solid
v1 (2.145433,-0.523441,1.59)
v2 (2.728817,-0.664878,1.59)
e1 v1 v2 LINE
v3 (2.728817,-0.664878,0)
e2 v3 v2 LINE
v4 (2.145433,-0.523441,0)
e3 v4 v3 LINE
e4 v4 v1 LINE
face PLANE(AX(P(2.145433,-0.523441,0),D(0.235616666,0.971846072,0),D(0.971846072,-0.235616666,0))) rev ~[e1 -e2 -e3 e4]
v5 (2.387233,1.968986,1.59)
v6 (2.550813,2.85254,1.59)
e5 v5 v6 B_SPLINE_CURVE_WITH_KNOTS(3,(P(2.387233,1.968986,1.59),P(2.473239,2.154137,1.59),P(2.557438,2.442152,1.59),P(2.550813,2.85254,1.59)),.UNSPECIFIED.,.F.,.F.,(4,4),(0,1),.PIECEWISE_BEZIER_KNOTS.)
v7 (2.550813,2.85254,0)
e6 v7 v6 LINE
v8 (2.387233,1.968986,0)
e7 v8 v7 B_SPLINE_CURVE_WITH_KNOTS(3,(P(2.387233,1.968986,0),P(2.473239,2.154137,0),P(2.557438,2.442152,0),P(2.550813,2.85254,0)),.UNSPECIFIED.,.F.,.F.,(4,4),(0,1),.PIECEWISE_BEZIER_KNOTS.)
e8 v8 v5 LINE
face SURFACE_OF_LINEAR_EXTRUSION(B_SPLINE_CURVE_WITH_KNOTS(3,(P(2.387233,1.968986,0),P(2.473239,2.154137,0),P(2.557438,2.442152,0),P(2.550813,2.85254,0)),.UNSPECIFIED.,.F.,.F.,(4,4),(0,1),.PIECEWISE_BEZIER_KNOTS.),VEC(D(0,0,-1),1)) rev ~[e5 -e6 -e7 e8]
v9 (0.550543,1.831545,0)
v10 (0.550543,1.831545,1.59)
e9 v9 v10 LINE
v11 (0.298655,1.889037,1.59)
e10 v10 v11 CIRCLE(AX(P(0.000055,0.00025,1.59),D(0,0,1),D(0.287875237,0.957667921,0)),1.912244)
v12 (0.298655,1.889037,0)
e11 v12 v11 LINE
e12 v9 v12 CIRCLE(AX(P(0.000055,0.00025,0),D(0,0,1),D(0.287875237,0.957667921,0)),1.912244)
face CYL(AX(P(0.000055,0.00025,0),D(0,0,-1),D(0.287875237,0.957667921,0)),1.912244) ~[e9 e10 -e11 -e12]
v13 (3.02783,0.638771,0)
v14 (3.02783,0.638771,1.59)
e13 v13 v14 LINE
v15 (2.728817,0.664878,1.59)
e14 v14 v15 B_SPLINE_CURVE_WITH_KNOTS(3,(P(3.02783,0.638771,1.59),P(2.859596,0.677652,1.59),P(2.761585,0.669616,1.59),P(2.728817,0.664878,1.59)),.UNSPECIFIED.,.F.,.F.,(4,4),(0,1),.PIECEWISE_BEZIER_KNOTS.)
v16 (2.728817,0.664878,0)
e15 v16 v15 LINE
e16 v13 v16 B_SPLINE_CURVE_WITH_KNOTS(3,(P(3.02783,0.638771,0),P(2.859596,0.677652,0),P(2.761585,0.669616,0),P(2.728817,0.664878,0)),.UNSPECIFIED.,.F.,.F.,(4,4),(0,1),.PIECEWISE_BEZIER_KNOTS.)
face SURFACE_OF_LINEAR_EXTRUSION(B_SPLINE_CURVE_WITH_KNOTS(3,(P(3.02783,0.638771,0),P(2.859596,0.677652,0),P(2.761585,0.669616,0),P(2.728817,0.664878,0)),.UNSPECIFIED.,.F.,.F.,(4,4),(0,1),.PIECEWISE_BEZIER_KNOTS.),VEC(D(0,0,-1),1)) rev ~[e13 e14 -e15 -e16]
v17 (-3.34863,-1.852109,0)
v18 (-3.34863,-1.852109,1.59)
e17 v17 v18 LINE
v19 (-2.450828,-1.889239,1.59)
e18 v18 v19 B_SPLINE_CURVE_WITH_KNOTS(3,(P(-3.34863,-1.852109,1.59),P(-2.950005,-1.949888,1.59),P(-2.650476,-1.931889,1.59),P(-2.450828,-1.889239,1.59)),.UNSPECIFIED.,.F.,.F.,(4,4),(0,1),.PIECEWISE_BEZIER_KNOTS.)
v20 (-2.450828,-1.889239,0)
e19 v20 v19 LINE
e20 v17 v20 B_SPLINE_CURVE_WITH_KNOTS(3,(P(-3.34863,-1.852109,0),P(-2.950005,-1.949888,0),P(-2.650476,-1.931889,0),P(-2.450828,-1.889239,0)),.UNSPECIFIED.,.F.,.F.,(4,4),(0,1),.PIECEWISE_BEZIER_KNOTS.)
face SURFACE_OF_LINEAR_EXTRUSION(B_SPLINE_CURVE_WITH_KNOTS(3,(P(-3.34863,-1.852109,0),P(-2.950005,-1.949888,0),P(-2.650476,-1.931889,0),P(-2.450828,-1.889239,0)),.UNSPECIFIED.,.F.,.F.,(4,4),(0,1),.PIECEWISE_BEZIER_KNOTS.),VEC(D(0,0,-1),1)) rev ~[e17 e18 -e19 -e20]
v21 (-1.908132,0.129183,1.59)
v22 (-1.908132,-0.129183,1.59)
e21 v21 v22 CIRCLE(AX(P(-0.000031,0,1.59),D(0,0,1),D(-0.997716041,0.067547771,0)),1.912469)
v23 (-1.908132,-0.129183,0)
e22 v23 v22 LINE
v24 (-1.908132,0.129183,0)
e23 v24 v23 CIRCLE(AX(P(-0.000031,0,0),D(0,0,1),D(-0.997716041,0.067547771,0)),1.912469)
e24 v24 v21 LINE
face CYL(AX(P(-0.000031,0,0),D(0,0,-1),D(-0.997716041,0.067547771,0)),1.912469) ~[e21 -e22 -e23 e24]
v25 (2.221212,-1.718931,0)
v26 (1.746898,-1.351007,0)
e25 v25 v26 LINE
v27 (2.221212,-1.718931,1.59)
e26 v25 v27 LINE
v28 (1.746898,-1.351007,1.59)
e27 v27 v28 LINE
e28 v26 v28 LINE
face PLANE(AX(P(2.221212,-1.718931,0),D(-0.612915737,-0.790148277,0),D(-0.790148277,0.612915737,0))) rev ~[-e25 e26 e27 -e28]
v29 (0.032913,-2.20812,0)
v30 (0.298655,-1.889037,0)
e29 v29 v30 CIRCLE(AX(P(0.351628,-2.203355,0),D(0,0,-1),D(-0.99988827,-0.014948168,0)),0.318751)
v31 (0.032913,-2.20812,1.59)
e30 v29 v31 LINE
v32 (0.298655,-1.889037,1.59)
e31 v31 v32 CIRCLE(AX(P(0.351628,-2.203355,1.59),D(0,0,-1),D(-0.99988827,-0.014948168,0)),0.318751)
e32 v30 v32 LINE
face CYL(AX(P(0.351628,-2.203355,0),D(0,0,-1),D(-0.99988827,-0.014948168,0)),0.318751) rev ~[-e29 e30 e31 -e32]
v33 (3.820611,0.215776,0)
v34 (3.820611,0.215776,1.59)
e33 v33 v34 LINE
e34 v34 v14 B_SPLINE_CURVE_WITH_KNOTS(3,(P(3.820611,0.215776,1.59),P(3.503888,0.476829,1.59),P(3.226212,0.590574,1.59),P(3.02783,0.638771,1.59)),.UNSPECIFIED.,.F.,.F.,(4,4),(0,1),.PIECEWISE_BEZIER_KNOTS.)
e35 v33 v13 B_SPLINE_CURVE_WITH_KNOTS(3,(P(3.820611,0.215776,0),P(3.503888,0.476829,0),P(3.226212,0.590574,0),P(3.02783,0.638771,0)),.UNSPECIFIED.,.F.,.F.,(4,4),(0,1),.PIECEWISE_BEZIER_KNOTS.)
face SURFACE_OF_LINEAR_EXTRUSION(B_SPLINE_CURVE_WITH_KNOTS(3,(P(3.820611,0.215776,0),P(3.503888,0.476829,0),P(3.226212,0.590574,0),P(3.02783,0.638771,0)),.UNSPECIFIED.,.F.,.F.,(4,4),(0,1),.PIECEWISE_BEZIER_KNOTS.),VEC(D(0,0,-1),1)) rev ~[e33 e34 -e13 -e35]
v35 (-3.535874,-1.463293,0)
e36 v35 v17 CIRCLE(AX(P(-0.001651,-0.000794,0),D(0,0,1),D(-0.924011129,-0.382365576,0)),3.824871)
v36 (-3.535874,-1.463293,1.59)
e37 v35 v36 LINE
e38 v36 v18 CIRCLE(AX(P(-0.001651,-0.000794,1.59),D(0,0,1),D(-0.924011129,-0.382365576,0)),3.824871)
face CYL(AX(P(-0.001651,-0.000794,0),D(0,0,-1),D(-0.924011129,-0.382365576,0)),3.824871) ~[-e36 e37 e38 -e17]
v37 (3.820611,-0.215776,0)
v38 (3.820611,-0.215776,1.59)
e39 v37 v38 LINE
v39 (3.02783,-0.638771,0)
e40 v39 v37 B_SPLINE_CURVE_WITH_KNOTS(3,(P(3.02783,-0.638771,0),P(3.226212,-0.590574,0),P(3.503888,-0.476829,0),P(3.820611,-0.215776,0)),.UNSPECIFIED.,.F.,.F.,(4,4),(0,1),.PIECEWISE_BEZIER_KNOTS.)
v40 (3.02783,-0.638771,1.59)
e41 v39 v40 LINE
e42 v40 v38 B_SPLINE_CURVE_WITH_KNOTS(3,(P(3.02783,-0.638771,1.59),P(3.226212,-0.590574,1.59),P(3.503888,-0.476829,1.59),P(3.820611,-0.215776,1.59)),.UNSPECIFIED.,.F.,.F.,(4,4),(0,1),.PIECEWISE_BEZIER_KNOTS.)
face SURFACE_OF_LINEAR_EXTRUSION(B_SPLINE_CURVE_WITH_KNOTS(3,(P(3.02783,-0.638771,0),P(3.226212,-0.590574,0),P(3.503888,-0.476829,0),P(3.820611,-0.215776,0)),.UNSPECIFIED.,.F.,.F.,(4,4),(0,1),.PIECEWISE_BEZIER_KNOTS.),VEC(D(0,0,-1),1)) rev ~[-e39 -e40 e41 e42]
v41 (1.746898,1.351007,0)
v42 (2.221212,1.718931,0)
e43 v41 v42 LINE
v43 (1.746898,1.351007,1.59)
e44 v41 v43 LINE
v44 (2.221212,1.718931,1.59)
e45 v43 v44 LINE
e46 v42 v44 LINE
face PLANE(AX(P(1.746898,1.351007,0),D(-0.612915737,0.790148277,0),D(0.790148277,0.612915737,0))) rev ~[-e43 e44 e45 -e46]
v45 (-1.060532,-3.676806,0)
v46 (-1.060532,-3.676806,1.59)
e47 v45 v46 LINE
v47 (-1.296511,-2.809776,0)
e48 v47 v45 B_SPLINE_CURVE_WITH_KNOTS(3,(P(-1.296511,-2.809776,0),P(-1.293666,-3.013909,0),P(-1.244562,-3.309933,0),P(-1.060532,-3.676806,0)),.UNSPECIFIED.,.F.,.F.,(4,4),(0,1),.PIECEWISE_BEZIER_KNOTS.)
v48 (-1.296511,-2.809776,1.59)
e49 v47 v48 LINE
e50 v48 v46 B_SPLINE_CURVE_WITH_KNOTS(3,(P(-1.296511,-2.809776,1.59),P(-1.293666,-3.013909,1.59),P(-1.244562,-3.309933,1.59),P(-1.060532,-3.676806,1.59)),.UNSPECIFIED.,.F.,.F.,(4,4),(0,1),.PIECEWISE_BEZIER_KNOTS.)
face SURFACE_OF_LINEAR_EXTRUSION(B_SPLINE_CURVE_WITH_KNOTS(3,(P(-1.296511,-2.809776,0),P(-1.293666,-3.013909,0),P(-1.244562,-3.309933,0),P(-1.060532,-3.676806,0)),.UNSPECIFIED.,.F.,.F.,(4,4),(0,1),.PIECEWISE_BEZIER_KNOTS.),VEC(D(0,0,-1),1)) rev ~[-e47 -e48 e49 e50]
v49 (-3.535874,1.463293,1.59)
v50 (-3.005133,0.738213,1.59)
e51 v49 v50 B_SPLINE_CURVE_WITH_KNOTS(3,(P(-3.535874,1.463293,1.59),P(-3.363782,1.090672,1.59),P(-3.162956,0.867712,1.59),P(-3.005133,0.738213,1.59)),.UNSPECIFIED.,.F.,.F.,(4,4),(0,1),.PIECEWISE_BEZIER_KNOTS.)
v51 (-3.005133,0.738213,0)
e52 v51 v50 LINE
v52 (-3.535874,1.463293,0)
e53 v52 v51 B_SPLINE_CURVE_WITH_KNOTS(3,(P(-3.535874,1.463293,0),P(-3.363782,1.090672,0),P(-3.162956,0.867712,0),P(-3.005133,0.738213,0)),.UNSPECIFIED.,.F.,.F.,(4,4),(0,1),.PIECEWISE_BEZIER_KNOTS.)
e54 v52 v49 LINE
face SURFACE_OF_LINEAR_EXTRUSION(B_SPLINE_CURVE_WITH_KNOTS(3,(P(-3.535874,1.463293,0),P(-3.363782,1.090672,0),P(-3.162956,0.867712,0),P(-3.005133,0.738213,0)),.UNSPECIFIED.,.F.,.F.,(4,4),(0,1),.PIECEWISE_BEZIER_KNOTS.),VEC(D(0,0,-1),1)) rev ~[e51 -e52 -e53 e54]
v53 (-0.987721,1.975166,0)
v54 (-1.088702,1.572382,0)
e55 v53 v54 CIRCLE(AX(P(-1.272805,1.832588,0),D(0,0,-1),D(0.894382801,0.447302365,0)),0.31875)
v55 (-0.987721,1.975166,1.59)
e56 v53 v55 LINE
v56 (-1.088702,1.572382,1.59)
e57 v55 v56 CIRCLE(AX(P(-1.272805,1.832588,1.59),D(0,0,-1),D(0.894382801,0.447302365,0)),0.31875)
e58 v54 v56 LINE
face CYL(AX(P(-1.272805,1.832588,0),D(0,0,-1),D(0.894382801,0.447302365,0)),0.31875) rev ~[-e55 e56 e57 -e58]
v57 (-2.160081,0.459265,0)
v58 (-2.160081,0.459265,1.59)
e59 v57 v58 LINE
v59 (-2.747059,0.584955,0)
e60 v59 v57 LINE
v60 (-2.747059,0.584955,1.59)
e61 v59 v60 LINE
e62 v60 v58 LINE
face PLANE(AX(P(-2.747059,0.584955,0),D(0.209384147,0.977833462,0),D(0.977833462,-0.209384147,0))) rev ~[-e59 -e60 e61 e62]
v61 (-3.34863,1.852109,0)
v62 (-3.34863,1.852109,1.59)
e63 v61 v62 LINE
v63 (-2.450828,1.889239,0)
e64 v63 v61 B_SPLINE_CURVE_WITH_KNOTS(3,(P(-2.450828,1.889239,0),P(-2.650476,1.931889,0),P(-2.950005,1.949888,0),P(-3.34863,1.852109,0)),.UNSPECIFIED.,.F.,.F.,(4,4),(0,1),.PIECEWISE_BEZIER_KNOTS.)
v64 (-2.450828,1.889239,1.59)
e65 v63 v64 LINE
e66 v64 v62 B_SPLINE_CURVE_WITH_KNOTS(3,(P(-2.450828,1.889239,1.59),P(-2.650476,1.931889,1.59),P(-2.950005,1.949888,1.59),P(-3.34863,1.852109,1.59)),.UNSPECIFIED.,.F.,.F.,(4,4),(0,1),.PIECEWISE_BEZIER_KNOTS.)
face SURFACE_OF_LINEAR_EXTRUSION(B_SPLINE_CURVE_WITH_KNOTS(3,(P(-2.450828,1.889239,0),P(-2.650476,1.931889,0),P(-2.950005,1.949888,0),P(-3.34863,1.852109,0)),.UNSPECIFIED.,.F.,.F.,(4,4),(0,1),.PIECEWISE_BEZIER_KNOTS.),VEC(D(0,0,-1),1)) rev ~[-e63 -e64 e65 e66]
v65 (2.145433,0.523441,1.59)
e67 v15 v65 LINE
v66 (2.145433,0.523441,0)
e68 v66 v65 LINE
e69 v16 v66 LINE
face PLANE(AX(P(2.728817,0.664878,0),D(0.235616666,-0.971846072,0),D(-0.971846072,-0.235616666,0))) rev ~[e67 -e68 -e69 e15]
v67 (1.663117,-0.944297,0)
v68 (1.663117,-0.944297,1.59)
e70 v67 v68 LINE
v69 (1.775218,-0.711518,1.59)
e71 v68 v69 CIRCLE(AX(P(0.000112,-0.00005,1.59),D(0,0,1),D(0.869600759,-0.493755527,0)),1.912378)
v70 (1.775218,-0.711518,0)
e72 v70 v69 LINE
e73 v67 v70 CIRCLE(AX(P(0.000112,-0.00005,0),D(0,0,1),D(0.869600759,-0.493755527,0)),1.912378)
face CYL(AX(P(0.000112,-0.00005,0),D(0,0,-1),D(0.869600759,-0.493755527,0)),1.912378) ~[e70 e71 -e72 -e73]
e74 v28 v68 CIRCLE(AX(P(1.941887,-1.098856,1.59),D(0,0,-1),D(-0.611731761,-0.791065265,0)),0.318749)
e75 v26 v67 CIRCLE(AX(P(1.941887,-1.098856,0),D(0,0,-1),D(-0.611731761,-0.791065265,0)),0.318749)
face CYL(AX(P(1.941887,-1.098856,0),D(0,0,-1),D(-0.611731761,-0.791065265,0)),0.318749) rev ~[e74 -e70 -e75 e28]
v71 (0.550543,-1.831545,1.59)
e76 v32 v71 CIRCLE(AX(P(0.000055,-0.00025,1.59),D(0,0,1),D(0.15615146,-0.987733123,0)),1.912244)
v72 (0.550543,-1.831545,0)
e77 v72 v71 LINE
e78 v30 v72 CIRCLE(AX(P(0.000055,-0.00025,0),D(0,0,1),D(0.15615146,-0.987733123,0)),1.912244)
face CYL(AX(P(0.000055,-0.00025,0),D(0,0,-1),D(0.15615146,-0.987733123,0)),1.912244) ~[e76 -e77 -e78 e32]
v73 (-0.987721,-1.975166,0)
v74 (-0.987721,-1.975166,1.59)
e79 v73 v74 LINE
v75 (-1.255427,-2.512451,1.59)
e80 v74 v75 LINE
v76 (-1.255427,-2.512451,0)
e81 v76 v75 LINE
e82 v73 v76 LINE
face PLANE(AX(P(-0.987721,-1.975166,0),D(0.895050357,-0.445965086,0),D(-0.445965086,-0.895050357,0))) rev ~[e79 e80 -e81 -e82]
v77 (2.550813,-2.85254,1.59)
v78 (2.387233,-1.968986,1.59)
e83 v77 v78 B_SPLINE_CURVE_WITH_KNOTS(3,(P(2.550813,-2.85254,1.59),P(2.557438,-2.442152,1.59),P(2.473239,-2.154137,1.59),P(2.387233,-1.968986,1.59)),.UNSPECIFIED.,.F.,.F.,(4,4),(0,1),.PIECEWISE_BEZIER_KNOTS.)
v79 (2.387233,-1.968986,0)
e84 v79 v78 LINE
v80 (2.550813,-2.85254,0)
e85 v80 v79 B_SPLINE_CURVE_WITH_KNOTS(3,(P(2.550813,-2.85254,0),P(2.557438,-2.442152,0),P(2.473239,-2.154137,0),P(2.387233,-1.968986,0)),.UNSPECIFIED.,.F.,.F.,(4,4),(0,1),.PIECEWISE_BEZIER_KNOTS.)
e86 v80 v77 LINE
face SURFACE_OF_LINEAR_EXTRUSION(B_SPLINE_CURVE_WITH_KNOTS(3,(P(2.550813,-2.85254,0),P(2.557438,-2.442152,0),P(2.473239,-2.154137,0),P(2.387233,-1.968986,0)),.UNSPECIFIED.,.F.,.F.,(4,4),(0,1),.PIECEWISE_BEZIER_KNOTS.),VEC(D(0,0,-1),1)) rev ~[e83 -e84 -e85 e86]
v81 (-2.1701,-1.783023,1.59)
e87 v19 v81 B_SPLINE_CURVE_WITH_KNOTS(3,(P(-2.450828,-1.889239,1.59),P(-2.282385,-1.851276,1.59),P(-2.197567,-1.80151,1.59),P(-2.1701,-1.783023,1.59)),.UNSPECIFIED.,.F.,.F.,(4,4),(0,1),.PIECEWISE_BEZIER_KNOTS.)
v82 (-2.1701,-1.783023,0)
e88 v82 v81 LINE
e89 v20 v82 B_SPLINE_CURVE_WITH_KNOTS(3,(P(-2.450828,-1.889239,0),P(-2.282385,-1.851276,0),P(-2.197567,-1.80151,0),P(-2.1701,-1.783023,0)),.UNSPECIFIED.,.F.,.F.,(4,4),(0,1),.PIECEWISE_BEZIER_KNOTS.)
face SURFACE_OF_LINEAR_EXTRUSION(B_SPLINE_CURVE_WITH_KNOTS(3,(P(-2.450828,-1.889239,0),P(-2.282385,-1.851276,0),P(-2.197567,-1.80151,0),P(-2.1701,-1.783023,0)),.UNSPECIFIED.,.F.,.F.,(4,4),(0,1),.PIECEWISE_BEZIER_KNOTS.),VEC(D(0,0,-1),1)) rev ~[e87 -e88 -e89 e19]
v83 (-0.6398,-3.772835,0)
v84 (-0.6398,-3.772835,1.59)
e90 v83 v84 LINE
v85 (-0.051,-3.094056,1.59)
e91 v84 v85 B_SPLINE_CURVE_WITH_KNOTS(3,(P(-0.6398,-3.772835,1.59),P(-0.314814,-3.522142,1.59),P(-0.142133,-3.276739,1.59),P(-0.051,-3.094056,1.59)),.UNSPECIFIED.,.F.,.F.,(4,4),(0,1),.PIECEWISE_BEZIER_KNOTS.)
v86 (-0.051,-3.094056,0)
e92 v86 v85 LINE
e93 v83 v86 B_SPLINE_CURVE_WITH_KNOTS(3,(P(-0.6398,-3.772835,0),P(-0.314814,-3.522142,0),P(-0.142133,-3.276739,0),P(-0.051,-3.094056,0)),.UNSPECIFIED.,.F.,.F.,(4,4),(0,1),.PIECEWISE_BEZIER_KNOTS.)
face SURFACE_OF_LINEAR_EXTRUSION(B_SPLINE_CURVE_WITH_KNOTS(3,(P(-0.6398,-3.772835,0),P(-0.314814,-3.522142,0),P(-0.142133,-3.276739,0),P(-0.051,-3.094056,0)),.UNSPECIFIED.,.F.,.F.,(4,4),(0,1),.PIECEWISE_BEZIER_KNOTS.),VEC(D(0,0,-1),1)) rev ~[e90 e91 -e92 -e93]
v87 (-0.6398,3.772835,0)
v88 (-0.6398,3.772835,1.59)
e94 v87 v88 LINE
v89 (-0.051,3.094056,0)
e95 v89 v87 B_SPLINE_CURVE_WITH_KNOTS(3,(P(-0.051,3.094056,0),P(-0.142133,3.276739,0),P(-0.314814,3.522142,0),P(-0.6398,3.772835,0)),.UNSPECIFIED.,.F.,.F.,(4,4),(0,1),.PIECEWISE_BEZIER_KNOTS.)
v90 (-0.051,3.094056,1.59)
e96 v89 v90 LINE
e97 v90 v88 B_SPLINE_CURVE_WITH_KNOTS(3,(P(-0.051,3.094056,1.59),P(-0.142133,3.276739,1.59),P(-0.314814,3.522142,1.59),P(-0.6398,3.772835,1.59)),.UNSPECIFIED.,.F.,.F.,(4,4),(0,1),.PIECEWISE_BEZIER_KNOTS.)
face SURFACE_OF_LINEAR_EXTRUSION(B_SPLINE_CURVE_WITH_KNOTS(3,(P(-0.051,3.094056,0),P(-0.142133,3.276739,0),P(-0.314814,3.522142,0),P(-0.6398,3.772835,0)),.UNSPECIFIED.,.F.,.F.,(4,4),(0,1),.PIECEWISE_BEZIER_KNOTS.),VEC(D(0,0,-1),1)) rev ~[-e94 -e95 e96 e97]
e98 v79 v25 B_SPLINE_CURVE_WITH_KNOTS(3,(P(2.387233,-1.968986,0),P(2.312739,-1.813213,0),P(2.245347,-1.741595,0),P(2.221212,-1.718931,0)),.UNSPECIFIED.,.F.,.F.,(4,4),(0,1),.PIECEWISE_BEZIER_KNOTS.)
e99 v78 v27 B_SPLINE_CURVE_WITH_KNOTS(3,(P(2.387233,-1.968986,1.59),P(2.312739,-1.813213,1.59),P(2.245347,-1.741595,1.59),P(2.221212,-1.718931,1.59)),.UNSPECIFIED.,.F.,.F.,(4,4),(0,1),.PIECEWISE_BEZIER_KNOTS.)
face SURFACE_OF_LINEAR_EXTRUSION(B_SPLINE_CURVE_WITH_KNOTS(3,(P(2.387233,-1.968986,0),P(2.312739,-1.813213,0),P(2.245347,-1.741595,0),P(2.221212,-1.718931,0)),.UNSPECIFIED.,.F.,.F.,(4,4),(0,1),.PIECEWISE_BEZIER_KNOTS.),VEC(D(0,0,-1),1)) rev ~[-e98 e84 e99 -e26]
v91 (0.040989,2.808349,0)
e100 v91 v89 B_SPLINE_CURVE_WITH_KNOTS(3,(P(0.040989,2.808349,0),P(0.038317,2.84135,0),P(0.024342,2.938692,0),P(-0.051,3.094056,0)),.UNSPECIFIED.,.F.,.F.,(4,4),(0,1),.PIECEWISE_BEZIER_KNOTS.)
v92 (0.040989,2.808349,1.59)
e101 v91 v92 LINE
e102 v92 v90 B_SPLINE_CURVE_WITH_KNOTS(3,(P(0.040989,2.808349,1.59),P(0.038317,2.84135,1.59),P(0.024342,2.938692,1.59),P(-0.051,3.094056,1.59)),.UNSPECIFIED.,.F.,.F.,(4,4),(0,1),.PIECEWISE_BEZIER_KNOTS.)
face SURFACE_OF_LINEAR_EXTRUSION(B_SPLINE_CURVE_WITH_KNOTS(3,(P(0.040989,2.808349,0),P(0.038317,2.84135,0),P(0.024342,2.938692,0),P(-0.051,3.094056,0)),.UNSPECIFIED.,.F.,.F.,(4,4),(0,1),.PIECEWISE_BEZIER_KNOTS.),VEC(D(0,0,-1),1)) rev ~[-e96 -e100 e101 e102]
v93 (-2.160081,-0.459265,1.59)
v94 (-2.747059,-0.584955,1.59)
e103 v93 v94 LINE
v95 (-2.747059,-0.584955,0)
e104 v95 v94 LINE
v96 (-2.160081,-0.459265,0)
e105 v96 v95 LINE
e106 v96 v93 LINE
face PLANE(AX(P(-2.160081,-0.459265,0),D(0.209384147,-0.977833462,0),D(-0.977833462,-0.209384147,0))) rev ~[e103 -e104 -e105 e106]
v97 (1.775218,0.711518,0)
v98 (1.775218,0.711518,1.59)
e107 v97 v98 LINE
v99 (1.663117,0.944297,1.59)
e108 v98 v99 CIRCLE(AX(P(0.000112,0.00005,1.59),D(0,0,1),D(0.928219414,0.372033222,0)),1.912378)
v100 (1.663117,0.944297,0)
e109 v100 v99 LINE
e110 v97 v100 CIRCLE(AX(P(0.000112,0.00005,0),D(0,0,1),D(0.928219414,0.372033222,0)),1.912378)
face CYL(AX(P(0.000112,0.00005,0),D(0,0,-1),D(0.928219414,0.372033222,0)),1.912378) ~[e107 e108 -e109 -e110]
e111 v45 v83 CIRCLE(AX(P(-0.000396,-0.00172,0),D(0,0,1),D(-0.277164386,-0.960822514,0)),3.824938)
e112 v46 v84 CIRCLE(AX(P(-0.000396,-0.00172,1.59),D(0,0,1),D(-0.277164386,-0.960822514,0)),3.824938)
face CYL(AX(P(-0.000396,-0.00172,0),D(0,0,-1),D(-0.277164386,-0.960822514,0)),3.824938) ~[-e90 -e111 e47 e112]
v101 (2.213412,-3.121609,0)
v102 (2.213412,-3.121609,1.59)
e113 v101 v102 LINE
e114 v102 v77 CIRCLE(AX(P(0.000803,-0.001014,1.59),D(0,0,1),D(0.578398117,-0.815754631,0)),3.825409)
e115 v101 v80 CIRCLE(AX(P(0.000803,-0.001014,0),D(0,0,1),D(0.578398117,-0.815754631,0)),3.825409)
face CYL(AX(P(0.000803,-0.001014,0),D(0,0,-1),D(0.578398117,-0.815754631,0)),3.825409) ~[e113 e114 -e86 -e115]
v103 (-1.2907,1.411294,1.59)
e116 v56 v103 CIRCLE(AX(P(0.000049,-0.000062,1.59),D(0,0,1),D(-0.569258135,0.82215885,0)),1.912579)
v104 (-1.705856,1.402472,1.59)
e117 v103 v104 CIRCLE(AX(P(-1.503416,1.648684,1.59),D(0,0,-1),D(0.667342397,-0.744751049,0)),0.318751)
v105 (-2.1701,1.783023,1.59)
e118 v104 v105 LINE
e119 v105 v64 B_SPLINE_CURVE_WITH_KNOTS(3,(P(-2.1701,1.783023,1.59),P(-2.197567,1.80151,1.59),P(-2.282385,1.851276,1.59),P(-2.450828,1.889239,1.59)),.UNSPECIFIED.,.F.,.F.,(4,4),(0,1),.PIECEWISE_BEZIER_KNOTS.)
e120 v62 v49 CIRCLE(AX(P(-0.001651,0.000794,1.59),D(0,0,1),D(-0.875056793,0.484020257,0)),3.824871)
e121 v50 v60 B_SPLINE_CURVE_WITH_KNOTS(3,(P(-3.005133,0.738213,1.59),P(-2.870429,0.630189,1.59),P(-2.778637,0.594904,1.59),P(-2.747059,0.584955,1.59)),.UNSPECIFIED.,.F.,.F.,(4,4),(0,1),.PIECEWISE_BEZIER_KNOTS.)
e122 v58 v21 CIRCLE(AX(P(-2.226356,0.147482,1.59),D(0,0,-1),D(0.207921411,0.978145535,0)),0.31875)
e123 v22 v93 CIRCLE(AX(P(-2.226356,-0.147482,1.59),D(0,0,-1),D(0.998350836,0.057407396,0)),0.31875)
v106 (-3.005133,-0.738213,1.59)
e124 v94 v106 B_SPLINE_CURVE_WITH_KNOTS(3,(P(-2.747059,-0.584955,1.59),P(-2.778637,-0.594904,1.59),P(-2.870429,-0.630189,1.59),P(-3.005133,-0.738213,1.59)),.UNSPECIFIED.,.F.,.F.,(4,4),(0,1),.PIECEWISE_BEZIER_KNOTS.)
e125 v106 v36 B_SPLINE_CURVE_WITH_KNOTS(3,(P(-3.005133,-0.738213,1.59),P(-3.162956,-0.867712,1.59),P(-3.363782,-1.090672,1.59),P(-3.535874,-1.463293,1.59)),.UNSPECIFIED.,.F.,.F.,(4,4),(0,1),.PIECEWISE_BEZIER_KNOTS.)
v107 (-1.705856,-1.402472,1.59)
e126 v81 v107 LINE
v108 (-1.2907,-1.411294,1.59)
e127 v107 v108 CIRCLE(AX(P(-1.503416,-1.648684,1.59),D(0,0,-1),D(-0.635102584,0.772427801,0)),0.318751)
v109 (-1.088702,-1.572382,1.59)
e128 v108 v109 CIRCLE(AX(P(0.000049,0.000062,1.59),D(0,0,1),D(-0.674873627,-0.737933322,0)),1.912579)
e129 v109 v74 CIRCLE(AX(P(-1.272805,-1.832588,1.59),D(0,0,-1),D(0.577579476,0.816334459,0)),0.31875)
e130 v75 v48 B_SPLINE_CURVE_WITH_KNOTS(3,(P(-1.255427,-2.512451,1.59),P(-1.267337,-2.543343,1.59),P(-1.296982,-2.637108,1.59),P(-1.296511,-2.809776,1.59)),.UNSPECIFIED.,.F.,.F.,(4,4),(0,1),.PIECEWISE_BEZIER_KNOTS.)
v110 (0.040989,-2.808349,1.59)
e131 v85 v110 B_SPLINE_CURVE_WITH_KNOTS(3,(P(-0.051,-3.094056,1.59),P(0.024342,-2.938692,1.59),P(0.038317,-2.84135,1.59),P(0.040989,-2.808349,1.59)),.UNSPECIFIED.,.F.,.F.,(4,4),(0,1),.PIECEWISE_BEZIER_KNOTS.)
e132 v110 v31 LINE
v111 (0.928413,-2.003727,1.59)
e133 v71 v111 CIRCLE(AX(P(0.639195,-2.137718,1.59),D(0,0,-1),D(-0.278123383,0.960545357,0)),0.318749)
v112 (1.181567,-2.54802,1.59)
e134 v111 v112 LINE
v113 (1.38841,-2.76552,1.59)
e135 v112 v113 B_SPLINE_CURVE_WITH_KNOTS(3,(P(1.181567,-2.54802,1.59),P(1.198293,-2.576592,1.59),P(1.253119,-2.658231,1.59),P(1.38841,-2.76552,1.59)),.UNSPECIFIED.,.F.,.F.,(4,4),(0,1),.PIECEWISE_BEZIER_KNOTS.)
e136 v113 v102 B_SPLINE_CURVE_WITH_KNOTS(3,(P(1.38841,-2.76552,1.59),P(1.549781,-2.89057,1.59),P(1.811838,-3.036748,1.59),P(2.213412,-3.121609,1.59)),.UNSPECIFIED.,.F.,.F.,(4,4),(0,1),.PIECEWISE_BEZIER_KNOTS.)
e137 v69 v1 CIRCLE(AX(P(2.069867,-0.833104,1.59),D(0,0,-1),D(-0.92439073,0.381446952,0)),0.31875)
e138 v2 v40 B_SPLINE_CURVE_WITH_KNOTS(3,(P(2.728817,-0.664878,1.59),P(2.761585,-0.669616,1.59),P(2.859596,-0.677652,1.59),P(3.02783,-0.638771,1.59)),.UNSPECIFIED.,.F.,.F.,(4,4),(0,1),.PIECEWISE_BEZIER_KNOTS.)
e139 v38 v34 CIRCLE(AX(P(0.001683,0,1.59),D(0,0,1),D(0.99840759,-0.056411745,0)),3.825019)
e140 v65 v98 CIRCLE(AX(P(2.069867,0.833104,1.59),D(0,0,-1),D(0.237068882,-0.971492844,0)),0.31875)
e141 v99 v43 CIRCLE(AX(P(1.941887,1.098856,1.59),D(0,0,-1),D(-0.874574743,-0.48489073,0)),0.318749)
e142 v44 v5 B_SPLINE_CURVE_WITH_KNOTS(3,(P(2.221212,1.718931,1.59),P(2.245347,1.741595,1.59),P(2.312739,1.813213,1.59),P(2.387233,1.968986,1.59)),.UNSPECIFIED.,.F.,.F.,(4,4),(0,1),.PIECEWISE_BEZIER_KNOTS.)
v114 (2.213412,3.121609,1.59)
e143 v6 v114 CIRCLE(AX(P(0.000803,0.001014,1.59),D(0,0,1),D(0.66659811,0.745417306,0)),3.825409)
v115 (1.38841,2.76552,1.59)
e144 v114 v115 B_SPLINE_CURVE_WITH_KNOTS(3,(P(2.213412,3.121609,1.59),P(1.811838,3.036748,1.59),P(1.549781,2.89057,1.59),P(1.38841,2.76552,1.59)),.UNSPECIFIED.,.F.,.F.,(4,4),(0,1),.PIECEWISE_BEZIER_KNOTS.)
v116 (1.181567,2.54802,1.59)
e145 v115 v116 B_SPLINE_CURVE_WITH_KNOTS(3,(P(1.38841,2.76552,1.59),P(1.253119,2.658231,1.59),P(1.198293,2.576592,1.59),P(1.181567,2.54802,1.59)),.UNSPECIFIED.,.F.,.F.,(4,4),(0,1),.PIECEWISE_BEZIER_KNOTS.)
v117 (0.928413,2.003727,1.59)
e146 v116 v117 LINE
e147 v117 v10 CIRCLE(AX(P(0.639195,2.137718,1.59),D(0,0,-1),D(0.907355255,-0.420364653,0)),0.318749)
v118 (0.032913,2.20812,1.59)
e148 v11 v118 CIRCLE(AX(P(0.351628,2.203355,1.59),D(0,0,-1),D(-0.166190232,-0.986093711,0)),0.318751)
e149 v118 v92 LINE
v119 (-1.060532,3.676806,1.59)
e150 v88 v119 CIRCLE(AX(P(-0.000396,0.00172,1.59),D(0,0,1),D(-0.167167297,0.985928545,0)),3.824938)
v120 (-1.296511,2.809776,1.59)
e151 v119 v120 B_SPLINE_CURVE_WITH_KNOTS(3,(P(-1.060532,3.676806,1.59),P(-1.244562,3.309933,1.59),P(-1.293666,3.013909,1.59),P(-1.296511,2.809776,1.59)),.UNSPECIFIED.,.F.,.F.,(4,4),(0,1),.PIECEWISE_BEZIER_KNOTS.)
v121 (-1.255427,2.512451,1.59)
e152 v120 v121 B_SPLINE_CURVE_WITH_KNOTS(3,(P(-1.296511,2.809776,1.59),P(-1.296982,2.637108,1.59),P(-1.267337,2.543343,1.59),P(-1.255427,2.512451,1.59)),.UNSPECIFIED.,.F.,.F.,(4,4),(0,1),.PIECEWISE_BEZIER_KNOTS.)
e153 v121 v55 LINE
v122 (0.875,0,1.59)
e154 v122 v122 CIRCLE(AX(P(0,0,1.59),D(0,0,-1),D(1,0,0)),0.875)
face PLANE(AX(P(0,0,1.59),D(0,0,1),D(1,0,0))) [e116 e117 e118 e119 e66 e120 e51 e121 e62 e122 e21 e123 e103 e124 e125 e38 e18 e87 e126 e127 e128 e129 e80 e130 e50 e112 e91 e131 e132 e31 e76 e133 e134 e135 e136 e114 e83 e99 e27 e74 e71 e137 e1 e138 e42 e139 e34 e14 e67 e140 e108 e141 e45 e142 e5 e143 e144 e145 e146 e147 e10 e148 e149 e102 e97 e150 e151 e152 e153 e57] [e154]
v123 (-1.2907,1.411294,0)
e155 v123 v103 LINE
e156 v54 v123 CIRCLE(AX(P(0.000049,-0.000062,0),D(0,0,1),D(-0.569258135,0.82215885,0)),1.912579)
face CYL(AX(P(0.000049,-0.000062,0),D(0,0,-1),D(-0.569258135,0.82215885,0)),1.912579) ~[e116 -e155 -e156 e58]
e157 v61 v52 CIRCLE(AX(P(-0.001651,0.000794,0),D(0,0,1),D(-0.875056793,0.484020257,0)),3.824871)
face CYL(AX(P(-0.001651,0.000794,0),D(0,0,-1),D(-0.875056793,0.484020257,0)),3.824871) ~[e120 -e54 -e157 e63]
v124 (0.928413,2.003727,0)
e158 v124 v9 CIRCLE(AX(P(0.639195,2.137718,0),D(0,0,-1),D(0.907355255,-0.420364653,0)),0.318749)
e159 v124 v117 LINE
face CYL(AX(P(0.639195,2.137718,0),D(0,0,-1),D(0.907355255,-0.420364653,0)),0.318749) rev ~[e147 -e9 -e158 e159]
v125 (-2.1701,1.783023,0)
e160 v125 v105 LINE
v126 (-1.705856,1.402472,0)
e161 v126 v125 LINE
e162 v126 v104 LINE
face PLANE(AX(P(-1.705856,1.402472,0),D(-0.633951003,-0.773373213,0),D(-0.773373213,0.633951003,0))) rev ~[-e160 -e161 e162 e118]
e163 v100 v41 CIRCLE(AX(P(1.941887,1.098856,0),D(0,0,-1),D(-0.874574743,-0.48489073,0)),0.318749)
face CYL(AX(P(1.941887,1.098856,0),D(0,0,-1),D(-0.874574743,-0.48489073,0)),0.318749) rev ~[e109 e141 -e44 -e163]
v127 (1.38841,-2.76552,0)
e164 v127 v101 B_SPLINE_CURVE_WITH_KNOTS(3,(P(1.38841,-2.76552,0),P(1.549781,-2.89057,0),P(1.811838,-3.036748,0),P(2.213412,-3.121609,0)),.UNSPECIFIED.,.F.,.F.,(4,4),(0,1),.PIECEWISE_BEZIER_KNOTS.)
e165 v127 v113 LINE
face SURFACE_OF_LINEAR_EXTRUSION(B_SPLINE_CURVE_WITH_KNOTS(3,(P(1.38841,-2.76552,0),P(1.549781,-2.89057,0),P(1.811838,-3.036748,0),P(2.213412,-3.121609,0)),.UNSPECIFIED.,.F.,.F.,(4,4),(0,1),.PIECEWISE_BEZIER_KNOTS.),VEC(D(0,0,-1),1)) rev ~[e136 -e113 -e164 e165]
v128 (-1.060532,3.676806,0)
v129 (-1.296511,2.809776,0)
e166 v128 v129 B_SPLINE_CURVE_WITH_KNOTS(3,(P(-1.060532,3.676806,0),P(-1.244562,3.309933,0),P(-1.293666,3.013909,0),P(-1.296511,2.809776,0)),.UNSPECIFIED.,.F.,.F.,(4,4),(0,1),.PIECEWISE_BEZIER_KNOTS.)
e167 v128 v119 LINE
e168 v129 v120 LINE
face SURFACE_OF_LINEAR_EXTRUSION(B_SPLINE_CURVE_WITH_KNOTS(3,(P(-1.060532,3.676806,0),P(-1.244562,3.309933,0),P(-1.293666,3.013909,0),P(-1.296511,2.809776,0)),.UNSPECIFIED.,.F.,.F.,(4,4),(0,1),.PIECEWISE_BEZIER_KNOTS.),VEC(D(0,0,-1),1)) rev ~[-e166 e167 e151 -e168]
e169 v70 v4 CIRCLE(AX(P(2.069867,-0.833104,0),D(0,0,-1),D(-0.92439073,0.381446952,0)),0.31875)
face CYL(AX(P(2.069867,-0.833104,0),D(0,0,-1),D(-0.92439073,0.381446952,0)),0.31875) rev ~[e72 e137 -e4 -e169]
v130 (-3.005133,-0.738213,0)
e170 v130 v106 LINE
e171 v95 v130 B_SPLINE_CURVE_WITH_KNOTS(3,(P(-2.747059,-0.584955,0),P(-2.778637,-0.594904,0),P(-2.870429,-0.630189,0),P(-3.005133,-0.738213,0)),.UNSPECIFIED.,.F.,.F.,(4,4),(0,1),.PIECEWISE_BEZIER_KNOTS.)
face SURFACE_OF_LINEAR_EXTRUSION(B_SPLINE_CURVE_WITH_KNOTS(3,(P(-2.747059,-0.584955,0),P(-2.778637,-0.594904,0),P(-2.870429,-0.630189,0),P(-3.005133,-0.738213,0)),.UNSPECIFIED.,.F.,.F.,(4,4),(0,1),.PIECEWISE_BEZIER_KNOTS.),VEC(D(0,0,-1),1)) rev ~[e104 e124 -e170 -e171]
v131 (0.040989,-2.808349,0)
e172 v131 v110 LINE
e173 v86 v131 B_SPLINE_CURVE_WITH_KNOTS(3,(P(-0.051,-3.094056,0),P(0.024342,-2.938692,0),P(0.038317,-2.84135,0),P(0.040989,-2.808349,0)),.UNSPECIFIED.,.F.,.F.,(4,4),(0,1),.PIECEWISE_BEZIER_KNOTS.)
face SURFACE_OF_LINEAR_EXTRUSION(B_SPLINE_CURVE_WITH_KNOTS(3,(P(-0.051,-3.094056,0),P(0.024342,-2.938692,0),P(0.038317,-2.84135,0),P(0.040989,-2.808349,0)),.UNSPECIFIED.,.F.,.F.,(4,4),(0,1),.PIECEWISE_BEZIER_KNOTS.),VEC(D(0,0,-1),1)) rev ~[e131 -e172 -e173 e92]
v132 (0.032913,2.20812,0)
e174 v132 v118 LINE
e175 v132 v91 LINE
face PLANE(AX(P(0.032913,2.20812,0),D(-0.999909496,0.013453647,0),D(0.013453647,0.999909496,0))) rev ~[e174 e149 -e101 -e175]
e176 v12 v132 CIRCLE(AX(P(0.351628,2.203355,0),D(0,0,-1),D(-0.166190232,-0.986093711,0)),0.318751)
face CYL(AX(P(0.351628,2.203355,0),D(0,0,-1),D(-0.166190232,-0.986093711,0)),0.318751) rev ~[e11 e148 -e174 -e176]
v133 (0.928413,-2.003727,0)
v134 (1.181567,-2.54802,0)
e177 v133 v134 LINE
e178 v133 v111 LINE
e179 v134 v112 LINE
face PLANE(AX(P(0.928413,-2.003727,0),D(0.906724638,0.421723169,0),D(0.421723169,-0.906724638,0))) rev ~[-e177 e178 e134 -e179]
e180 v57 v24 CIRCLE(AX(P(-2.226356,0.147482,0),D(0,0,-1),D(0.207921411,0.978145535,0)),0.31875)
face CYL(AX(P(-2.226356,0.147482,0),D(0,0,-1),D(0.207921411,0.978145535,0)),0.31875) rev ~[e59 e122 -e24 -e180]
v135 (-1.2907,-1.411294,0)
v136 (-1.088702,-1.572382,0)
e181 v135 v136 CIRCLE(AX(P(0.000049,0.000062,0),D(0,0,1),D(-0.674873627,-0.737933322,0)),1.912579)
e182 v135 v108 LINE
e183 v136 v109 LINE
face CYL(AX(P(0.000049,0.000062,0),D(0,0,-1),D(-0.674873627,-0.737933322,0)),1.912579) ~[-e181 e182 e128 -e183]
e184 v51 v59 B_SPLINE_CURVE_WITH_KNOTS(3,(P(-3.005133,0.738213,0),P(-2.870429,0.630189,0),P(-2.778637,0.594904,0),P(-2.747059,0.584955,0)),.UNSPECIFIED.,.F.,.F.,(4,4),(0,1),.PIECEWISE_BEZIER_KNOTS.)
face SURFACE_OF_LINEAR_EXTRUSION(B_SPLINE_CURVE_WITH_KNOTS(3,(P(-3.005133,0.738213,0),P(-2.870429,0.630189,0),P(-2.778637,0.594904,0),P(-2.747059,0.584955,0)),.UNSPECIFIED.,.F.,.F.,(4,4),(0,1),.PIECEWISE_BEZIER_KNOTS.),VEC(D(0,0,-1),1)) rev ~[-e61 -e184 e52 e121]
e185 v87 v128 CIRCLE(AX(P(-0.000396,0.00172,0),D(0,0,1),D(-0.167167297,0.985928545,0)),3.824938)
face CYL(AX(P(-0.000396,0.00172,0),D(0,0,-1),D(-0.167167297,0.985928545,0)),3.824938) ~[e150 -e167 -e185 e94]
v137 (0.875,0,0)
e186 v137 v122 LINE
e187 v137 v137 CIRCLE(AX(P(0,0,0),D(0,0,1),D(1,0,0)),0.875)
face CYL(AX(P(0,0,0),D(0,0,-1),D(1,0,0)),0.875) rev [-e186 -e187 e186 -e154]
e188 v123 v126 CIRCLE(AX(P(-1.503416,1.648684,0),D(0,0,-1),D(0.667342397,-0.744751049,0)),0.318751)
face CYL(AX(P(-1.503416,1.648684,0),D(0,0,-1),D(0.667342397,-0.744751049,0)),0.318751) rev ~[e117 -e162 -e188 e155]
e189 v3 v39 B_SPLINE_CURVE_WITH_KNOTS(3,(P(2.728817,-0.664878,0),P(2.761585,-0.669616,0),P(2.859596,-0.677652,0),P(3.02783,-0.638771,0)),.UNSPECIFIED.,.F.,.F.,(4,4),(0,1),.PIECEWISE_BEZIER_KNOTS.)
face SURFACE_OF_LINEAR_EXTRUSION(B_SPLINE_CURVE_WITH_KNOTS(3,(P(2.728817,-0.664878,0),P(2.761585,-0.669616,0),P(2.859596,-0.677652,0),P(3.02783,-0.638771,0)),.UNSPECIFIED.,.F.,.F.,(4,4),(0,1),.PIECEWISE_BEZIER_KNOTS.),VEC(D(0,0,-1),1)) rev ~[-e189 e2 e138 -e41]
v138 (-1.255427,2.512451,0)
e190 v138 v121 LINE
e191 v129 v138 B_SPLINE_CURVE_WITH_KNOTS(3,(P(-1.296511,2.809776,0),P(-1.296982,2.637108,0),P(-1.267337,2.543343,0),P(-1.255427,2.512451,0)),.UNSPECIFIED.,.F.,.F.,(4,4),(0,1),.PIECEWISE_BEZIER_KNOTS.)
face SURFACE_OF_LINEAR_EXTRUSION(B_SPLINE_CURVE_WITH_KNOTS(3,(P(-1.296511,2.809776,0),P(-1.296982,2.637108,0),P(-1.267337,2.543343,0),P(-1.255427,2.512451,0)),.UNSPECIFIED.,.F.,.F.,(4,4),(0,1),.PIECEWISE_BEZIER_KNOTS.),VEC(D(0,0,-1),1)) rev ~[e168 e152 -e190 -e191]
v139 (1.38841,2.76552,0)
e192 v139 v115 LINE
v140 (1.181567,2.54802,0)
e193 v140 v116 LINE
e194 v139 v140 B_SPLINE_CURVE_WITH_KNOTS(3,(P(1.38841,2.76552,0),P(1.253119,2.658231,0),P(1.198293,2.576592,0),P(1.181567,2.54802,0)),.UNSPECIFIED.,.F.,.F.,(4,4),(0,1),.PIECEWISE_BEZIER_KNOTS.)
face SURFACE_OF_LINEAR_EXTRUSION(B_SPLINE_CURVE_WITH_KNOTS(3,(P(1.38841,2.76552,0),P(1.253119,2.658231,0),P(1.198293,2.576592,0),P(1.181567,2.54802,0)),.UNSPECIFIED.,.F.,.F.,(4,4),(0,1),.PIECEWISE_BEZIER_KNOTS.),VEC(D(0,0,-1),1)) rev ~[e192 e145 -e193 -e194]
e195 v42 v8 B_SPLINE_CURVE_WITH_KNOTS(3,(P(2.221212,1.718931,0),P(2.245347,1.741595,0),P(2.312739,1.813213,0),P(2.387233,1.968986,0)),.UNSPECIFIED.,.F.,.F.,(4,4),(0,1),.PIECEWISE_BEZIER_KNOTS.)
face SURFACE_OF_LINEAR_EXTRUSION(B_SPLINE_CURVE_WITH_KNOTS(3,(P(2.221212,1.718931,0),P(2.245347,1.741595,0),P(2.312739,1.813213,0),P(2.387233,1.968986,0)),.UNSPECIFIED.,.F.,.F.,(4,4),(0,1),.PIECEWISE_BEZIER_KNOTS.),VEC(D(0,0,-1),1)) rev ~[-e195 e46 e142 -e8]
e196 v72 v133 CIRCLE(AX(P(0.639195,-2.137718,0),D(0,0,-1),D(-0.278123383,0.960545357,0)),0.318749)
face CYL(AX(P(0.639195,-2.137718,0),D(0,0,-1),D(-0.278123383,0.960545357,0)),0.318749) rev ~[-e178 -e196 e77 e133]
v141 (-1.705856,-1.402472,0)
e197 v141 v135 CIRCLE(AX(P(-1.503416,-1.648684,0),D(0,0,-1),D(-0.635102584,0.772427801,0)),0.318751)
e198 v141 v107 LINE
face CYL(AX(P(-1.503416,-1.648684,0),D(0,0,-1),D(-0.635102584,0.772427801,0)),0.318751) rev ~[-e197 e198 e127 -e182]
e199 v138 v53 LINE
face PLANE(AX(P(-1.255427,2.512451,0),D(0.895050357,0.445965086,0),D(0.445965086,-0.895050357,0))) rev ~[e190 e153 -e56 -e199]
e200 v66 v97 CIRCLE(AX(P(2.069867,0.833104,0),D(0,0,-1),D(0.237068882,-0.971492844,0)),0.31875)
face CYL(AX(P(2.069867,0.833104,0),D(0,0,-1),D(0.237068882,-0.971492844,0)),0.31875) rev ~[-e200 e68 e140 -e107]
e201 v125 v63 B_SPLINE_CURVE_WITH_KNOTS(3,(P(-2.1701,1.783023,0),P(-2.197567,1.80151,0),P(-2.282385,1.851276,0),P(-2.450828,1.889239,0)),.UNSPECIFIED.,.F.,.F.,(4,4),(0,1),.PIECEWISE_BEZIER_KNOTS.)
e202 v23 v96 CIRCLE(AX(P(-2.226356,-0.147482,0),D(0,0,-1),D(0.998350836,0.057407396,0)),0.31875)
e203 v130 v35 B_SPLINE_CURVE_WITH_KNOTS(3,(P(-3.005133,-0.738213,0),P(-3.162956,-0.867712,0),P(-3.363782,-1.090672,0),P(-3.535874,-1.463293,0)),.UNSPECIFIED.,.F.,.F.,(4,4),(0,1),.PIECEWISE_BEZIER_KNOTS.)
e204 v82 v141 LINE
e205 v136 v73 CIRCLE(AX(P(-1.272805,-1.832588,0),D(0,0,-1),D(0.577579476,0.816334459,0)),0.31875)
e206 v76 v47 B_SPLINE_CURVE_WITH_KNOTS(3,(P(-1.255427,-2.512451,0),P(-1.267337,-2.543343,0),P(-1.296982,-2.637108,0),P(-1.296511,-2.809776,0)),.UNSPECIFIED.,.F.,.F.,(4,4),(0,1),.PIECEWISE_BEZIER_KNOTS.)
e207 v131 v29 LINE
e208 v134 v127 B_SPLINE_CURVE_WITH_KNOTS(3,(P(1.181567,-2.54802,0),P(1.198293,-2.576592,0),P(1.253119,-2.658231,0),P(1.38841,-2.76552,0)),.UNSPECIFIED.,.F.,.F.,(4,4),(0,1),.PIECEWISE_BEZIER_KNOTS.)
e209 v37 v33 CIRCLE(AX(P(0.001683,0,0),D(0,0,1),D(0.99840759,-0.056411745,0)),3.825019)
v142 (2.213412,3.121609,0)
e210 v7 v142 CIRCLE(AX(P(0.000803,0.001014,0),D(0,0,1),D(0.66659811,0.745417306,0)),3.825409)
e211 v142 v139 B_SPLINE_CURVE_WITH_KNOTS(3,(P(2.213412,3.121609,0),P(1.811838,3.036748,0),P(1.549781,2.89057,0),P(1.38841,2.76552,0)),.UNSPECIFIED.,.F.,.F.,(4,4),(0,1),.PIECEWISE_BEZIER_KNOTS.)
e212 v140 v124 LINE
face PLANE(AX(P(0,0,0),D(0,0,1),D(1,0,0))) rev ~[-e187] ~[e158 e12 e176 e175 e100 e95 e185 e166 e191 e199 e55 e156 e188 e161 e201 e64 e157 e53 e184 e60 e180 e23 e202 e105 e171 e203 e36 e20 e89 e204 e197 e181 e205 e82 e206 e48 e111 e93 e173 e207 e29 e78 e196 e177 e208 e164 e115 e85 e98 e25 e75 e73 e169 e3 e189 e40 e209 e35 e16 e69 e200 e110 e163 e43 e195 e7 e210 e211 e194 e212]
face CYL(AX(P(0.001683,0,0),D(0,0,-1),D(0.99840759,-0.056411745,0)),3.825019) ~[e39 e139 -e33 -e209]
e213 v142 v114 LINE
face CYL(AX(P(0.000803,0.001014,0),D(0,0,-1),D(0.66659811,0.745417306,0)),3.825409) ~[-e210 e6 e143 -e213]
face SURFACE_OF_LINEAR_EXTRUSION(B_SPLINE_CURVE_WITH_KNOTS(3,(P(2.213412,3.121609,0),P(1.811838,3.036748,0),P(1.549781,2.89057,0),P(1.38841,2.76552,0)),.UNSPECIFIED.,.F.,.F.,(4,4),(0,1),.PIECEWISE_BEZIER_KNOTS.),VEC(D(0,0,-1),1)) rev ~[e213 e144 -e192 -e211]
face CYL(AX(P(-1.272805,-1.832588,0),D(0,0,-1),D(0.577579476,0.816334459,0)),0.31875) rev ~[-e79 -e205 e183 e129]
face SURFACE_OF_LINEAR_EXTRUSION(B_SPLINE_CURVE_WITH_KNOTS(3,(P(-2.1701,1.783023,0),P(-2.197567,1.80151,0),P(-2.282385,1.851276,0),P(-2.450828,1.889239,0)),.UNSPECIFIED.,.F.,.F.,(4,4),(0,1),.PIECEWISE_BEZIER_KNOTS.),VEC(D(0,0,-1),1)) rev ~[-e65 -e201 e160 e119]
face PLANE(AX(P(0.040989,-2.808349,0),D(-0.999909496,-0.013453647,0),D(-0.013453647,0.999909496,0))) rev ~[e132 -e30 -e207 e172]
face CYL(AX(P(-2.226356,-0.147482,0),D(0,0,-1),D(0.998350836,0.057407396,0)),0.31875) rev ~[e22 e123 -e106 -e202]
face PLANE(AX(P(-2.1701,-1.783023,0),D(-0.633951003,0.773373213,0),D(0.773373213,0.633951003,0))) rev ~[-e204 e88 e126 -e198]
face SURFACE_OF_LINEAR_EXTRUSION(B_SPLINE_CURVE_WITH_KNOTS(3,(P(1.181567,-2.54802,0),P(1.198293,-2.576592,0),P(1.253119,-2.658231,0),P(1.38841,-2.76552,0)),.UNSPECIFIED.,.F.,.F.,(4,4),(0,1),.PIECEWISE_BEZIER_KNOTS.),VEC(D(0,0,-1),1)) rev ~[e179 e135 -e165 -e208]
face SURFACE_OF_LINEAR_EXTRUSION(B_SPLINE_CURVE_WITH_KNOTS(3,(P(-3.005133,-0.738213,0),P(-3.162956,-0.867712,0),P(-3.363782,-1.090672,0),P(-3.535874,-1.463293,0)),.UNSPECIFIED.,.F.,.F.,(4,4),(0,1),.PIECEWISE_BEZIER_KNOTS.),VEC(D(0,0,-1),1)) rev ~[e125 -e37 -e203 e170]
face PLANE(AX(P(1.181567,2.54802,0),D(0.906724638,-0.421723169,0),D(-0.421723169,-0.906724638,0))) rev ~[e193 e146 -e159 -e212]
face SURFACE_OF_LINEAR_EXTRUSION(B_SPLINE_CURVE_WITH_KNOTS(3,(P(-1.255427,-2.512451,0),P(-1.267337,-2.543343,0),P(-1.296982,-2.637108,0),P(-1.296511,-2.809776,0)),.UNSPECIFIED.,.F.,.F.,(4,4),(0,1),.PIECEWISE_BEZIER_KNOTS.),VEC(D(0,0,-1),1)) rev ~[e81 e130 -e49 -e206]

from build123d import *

# Parameters (mm, degrees)
CYLINDER002_R     = 0.875
CYLINDER002_DEPTH = 10
EXTRUDE_DEPTH     = 1.59


with BuildPart() as cylinder002:
    # Cylinder002 → Cylinder002 (new body)
    with BuildSketch(Plane.XY):
        Circle(CYLINDER002_R)
    extrude(amount=CYLINDER002_DEPTH)


with BuildPart() as cut017:
    # InvoluteGear → Extrude (new body)
    with BuildSketch(Plane.XY):
        with BuildLine():
            Line((2.145433, -0.523441), (2.728817, -0.664878))
            add(Edge.make_bspline(
                [(2.728817, -0.664878), (2.761585, -0.669616), (2.859596, -0.677652), (3.02783, -0.638771)],
                knots=[0, 0, 0, 0, 1, 1, 1, 1], degree=3))
            add(Edge.make_bspline(
                [(3.02783, -0.638771), (3.226212, -0.590574), (3.503888, -0.476829), (3.820611, -0.215776)],
                knots=[0, 0, 0, 0, 1, 1, 1, 1], degree=3))
            ThreePointArc((3.820611, -0.215776), (3.826702, 0), (3.820611, 0.215776))
            add(Edge.make_bspline(
                [(3.820611, 0.215776), (3.503888, 0.476829), (3.226212, 0.590574), (3.02783, 0.638771)],
                knots=[0, 0, 0, 0, 1, 1, 1, 1], degree=3))
            add(Edge.make_bspline(
                [(3.02783, 0.638771), (2.859596, 0.677652), (2.761585, 0.669616), (2.728817, 0.664878)],
                knots=[0, 0, 0, 0, 1, 1, 1, 1], degree=3))
            Line((2.728817, 0.664878), (2.145433, 0.523441))
            ThreePointArc((2.145433, 0.523441), (1.925498, 0.548923), (1.775218, 0.711518))
            ThreePointArc((1.775218, 0.711518), (1.723103, 0.829803), (1.663117, 0.944297))
            ThreePointArc((1.663117, 0.944297), (1.629693, 1.163167), (1.746898, 1.351007))
            Line((1.746898, 1.351007), (2.221212, 1.718931))
            add(Edge.make_bspline(
                [(2.221212, 1.718931), (2.245347, 1.741595), (2.312739, 1.813213), (2.387233, 1.968986)],
                knots=[0, 0, 0, 0, 1, 1, 1, 1], degree=3))
            add(Edge.make_bspline(
                [(2.387233, 1.968986), (2.473239, 2.154137), (2.557438, 2.442152), (2.550813, 2.85254)],
                knots=[0, 0, 0, 0, 1, 1, 1, 1], degree=3))
            ThreePointArc((2.550813, 2.85254), (2.38591, 2.991836), (2.213412, 3.121609))
            add(Edge.make_bspline(
                [(2.213412, 3.121609), (1.811838, 3.036748), (1.549781, 2.89057), (1.38841, 2.76552)],
                knots=[0, 0, 0, 0, 1, 1, 1, 1], degree=3))
            add(Edge.make_bspline(
                [(1.38841, 2.76552), (1.253119, 2.658231), (1.198293, 2.576592), (1.181567, 2.54802)],
                knots=[0, 0, 0, 0, 1, 1, 1, 1], degree=3))
            Line((1.181567, 2.54802), (0.928413, 2.003727))
            ThreePointArc((0.928413, 2.003727), (0.771363, 1.847662), (0.550543, 1.831545))
            ThreePointArc((0.550543, 1.831545), (0.425571, 1.86455), (0.298655, 1.889037))
            ThreePointArc((0.298655, 1.889037), (0.106697, 1.999368), (0.032913, 2.20812))
            Line((0.032913, 2.20812), (0.040989, 2.808349))
            add(Edge.make_bspline(
                [(0.040989, 2.808349), (0.038317, 2.84135), (0.024342, 2.938692), (-0.051, 3.094056)],
                knots=[0, 0, 0, 0, 1, 1, 1, 1], degree=3))
            add(Edge.make_bspline(
                [(-0.051, 3.094056), (-0.142133, 3.276739), (-0.314814, 3.522142), (-0.6398, 3.772835)],
                knots=[0, 0, 0, 0, 1, 1, 1, 1], degree=3))
            ThreePointArc((-0.6398, 3.772835), (-0.851521, 3.730759), (-1.060532, 3.676806))
            add(Edge.make_bspline(
                [(-1.060532, 3.676806), (-1.244562, 3.309933), (-1.293666, 3.013909), (-1.296511, 2.809776)],
                knots=[0, 0, 0, 0, 1, 1, 1, 1], degree=3))
            add(Edge.make_bspline(
                [(-1.296511, 2.809776), (-1.296982, 2.637108), (-1.267337, 2.543343), (-1.255427, 2.512451)],
                knots=[0, 0, 0, 0, 1, 1, 1, 1], degree=3))
            Line((-1.255427, 2.512451), (-0.987721, 1.975166))
            ThreePointArc((-0.987721, 1.975166), (-0.963624, 1.755075), (-1.088702, 1.572382))
            ThreePointArc((-1.088702, 1.572382), (-1.192424, 1.495253), (-1.2907, 1.411294))
            ThreePointArc((-1.2907, 1.411294), (-1.496645, 1.330005), (-1.705856, 1.402472))
            Line((-1.705856, 1.402472), (-2.1701, 1.783023))
            add(Edge.make_bspline(
                [(-2.1701, 1.783023), (-2.197567, 1.80151), (-2.282385, 1.851276), (-2.450828, 1.889239)],
                knots=[0, 0, 0, 0, 1, 1, 1, 1], degree=3))
            add(Edge.make_bspline(
                [(-2.450828, 1.889239), (-2.650476, 1.931889), (-2.950005, 1.949888), (-3.34863, 1.852109)],
                knots=[0, 0, 0, 0, 1, 1, 1, 1], degree=3))
            ThreePointArc((-3.34863, 1.852109), (-3.44774, 1.660344), (-3.535874, 1.463293))
            add(Edge.make_bspline(
                [(-3.535874, 1.463293), (-3.363782, 1.090672), (-3.162956, 0.867712), (-3.005133, 0.738213)],
                knots=[0, 0, 0, 0, 1, 1, 1, 1], degree=3))
            add(Edge.make_bspline(
                [(-3.005133, 0.738213), (-2.870429, 0.630189), (-2.778637, 0.594904), (-2.747059, 0.584955)],
                knots=[0, 0, 0, 0, 1, 1, 1, 1], degree=3))
            Line((-2.747059, 0.584955), (-2.160081, 0.459265))
            ThreePointArc((-2.160081, 0.459265), (-1.972982, 0.34088), (-1.908132, 0.129183))
            ThreePointArc((-1.908132, 0.129183), (-1.9125, 0), (-1.908132, -0.129183))
            ThreePointArc((-1.908132, -0.129183), (-1.972982, -0.34088), (-2.160081, -0.459265))
            Line((-2.160081, -0.459265), (-2.747059, -0.584955))
            add(Edge.make_bspline(
                [(-2.747059, -0.584955), (-2.778637, -0.594904), (-2.870429, -0.630189), (-3.005133, -0.738213)],
                knots=[0, 0, 0, 0, 1, 1, 1, 1], degree=3))
            add(Edge.make_bspline(
                [(-3.005133, -0.738213), (-3.162956, -0.867712), (-3.363782, -1.090672), (-3.535874, -1.463293)],
                knots=[0, 0, 0, 0, 1, 1, 1, 1], degree=3))
            ThreePointArc((-3.535874, -1.463293), (-3.44774, -1.660344), (-3.34863, -1.852109))
            add(Edge.make_bspline(
                [(-3.34863, -1.852109), (-2.950005, -1.949888), (-2.650476, -1.931889), (-2.450828, -1.889239)],
                knots=[0, 0, 0, 0, 1, 1, 1, 1], degree=3))
            add(Edge.make_bspline(
                [(-2.450828, -1.889239), (-2.282385, -1.851276), (-2.197567, -1.80151), (-2.1701, -1.783023)],
                knots=[0, 0, 0, 0, 1, 1, 1, 1], degree=3))
            Line((-2.1701, -1.783023), (-1.705856, -1.402472))
            ThreePointArc((-1.705856, -1.402472), (-1.496645, -1.330005), (-1.2907, -1.411294))
            ThreePointArc((-1.2907, -1.411294), (-1.192424, -1.495253), (-1.088702, -1.572382))
            ThreePointArc((-1.088702, -1.572382), (-0.963624, -1.755075), (-0.987721, -1.975166))
            Line((-0.987721, -1.975166), (-1.255427, -2.512451))
            add(Edge.make_bspline(
                [(-1.255427, -2.512451), (-1.267337, -2.543343), (-1.296982, -2.637108), (-1.296511, -2.809776)],
                knots=[0, 0, 0, 0, 1, 1, 1, 1], degree=3))
            add(Edge.make_bspline(
                [(-1.296511, -2.809776), (-1.293666, -3.013909), (-1.244562, -3.309933), (-1.060532, -3.676806)],
                knots=[0, 0, 0, 0, 1, 1, 1, 1], degree=3))
            ThreePointArc((-1.060532, -3.676806), (-0.851521, -3.730759), (-0.6398, -3.772835))
            add(Edge.make_bspline(
                [(-0.6398, -3.772835), (-0.314814, -3.522142), (-0.142133, -3.276739), (-0.051, -3.094056)],
                knots=[0, 0, 0, 0, 1, 1, 1, 1], degree=3))
            add(Edge.make_bspline(
                [(-0.051, -3.094056), (0.024342, -2.938692), (0.038317, -2.84135), (0.040989, -2.808349)],
                knots=[0, 0, 0, 0, 1, 1, 1, 1], degree=3))
            Line((0.040989, -2.808349), (0.032913, -2.20812))
            ThreePointArc((0.032913, -2.20812), (0.106697, -1.999368), (0.298655, -1.889037))
            ThreePointArc((0.298655, -1.889037), (0.425571, -1.86455), (0.550543, -1.831545))
            ThreePointArc((0.550543, -1.831545), (0.771363, -1.847662), (0.928413, -2.003727))
            Line((0.928413, -2.003727), (1.181567, -2.54802))
            add(Edge.make_bspline(
                [(1.181567, -2.54802), (1.198293, -2.576592), (1.253119, -2.658231), (1.38841, -2.76552)],
                knots=[0, 0, 0, 0, 1, 1, 1, 1], degree=3))
            add(Edge.make_bspline(
                [(1.38841, -2.76552), (1.549781, -2.89057), (1.811838, -3.036748), (2.213412, -3.121609)],
                knots=[0, 0, 0, 0, 1, 1, 1, 1], degree=3))
            ThreePointArc((2.213412, -3.121609), (2.38591, -2.991836), (2.550813, -2.85254))
            add(Edge.make_bspline(
                [(2.550813, -2.85254), (2.557438, -2.442152), (2.473239, -2.154137), (2.387233, -1.968986)],
                knots=[0, 0, 0, 0, 1, 1, 1, 1], degree=3))
            add(Edge.make_bspline(
                [(2.387233, -1.968986), (2.312739, -1.813213), (2.245347, -1.741595), (2.221212, -1.718931)],
                knots=[0, 0, 0, 0, 1, 1, 1, 1], degree=3))
            Line((2.221212, -1.718931), (1.746898, -1.351007))
            ThreePointArc((1.746898, -1.351007), (1.629693, -1.163167), (1.663117, -0.944297))
            ThreePointArc((1.663117, -0.944297), (1.723103, -0.829803), (1.775218, -0.711518))
            ThreePointArc((1.775218, -0.711518), (1.925498, -0.548923), (2.145433, -0.523441))
        make_face()
    extrude(amount=EXTRUDE_DEPTH)

    # Cut017: cut Cylinder002
    add(cylinder002.part, mode=Mode.SUBTRACT)


solid = cut017.part
